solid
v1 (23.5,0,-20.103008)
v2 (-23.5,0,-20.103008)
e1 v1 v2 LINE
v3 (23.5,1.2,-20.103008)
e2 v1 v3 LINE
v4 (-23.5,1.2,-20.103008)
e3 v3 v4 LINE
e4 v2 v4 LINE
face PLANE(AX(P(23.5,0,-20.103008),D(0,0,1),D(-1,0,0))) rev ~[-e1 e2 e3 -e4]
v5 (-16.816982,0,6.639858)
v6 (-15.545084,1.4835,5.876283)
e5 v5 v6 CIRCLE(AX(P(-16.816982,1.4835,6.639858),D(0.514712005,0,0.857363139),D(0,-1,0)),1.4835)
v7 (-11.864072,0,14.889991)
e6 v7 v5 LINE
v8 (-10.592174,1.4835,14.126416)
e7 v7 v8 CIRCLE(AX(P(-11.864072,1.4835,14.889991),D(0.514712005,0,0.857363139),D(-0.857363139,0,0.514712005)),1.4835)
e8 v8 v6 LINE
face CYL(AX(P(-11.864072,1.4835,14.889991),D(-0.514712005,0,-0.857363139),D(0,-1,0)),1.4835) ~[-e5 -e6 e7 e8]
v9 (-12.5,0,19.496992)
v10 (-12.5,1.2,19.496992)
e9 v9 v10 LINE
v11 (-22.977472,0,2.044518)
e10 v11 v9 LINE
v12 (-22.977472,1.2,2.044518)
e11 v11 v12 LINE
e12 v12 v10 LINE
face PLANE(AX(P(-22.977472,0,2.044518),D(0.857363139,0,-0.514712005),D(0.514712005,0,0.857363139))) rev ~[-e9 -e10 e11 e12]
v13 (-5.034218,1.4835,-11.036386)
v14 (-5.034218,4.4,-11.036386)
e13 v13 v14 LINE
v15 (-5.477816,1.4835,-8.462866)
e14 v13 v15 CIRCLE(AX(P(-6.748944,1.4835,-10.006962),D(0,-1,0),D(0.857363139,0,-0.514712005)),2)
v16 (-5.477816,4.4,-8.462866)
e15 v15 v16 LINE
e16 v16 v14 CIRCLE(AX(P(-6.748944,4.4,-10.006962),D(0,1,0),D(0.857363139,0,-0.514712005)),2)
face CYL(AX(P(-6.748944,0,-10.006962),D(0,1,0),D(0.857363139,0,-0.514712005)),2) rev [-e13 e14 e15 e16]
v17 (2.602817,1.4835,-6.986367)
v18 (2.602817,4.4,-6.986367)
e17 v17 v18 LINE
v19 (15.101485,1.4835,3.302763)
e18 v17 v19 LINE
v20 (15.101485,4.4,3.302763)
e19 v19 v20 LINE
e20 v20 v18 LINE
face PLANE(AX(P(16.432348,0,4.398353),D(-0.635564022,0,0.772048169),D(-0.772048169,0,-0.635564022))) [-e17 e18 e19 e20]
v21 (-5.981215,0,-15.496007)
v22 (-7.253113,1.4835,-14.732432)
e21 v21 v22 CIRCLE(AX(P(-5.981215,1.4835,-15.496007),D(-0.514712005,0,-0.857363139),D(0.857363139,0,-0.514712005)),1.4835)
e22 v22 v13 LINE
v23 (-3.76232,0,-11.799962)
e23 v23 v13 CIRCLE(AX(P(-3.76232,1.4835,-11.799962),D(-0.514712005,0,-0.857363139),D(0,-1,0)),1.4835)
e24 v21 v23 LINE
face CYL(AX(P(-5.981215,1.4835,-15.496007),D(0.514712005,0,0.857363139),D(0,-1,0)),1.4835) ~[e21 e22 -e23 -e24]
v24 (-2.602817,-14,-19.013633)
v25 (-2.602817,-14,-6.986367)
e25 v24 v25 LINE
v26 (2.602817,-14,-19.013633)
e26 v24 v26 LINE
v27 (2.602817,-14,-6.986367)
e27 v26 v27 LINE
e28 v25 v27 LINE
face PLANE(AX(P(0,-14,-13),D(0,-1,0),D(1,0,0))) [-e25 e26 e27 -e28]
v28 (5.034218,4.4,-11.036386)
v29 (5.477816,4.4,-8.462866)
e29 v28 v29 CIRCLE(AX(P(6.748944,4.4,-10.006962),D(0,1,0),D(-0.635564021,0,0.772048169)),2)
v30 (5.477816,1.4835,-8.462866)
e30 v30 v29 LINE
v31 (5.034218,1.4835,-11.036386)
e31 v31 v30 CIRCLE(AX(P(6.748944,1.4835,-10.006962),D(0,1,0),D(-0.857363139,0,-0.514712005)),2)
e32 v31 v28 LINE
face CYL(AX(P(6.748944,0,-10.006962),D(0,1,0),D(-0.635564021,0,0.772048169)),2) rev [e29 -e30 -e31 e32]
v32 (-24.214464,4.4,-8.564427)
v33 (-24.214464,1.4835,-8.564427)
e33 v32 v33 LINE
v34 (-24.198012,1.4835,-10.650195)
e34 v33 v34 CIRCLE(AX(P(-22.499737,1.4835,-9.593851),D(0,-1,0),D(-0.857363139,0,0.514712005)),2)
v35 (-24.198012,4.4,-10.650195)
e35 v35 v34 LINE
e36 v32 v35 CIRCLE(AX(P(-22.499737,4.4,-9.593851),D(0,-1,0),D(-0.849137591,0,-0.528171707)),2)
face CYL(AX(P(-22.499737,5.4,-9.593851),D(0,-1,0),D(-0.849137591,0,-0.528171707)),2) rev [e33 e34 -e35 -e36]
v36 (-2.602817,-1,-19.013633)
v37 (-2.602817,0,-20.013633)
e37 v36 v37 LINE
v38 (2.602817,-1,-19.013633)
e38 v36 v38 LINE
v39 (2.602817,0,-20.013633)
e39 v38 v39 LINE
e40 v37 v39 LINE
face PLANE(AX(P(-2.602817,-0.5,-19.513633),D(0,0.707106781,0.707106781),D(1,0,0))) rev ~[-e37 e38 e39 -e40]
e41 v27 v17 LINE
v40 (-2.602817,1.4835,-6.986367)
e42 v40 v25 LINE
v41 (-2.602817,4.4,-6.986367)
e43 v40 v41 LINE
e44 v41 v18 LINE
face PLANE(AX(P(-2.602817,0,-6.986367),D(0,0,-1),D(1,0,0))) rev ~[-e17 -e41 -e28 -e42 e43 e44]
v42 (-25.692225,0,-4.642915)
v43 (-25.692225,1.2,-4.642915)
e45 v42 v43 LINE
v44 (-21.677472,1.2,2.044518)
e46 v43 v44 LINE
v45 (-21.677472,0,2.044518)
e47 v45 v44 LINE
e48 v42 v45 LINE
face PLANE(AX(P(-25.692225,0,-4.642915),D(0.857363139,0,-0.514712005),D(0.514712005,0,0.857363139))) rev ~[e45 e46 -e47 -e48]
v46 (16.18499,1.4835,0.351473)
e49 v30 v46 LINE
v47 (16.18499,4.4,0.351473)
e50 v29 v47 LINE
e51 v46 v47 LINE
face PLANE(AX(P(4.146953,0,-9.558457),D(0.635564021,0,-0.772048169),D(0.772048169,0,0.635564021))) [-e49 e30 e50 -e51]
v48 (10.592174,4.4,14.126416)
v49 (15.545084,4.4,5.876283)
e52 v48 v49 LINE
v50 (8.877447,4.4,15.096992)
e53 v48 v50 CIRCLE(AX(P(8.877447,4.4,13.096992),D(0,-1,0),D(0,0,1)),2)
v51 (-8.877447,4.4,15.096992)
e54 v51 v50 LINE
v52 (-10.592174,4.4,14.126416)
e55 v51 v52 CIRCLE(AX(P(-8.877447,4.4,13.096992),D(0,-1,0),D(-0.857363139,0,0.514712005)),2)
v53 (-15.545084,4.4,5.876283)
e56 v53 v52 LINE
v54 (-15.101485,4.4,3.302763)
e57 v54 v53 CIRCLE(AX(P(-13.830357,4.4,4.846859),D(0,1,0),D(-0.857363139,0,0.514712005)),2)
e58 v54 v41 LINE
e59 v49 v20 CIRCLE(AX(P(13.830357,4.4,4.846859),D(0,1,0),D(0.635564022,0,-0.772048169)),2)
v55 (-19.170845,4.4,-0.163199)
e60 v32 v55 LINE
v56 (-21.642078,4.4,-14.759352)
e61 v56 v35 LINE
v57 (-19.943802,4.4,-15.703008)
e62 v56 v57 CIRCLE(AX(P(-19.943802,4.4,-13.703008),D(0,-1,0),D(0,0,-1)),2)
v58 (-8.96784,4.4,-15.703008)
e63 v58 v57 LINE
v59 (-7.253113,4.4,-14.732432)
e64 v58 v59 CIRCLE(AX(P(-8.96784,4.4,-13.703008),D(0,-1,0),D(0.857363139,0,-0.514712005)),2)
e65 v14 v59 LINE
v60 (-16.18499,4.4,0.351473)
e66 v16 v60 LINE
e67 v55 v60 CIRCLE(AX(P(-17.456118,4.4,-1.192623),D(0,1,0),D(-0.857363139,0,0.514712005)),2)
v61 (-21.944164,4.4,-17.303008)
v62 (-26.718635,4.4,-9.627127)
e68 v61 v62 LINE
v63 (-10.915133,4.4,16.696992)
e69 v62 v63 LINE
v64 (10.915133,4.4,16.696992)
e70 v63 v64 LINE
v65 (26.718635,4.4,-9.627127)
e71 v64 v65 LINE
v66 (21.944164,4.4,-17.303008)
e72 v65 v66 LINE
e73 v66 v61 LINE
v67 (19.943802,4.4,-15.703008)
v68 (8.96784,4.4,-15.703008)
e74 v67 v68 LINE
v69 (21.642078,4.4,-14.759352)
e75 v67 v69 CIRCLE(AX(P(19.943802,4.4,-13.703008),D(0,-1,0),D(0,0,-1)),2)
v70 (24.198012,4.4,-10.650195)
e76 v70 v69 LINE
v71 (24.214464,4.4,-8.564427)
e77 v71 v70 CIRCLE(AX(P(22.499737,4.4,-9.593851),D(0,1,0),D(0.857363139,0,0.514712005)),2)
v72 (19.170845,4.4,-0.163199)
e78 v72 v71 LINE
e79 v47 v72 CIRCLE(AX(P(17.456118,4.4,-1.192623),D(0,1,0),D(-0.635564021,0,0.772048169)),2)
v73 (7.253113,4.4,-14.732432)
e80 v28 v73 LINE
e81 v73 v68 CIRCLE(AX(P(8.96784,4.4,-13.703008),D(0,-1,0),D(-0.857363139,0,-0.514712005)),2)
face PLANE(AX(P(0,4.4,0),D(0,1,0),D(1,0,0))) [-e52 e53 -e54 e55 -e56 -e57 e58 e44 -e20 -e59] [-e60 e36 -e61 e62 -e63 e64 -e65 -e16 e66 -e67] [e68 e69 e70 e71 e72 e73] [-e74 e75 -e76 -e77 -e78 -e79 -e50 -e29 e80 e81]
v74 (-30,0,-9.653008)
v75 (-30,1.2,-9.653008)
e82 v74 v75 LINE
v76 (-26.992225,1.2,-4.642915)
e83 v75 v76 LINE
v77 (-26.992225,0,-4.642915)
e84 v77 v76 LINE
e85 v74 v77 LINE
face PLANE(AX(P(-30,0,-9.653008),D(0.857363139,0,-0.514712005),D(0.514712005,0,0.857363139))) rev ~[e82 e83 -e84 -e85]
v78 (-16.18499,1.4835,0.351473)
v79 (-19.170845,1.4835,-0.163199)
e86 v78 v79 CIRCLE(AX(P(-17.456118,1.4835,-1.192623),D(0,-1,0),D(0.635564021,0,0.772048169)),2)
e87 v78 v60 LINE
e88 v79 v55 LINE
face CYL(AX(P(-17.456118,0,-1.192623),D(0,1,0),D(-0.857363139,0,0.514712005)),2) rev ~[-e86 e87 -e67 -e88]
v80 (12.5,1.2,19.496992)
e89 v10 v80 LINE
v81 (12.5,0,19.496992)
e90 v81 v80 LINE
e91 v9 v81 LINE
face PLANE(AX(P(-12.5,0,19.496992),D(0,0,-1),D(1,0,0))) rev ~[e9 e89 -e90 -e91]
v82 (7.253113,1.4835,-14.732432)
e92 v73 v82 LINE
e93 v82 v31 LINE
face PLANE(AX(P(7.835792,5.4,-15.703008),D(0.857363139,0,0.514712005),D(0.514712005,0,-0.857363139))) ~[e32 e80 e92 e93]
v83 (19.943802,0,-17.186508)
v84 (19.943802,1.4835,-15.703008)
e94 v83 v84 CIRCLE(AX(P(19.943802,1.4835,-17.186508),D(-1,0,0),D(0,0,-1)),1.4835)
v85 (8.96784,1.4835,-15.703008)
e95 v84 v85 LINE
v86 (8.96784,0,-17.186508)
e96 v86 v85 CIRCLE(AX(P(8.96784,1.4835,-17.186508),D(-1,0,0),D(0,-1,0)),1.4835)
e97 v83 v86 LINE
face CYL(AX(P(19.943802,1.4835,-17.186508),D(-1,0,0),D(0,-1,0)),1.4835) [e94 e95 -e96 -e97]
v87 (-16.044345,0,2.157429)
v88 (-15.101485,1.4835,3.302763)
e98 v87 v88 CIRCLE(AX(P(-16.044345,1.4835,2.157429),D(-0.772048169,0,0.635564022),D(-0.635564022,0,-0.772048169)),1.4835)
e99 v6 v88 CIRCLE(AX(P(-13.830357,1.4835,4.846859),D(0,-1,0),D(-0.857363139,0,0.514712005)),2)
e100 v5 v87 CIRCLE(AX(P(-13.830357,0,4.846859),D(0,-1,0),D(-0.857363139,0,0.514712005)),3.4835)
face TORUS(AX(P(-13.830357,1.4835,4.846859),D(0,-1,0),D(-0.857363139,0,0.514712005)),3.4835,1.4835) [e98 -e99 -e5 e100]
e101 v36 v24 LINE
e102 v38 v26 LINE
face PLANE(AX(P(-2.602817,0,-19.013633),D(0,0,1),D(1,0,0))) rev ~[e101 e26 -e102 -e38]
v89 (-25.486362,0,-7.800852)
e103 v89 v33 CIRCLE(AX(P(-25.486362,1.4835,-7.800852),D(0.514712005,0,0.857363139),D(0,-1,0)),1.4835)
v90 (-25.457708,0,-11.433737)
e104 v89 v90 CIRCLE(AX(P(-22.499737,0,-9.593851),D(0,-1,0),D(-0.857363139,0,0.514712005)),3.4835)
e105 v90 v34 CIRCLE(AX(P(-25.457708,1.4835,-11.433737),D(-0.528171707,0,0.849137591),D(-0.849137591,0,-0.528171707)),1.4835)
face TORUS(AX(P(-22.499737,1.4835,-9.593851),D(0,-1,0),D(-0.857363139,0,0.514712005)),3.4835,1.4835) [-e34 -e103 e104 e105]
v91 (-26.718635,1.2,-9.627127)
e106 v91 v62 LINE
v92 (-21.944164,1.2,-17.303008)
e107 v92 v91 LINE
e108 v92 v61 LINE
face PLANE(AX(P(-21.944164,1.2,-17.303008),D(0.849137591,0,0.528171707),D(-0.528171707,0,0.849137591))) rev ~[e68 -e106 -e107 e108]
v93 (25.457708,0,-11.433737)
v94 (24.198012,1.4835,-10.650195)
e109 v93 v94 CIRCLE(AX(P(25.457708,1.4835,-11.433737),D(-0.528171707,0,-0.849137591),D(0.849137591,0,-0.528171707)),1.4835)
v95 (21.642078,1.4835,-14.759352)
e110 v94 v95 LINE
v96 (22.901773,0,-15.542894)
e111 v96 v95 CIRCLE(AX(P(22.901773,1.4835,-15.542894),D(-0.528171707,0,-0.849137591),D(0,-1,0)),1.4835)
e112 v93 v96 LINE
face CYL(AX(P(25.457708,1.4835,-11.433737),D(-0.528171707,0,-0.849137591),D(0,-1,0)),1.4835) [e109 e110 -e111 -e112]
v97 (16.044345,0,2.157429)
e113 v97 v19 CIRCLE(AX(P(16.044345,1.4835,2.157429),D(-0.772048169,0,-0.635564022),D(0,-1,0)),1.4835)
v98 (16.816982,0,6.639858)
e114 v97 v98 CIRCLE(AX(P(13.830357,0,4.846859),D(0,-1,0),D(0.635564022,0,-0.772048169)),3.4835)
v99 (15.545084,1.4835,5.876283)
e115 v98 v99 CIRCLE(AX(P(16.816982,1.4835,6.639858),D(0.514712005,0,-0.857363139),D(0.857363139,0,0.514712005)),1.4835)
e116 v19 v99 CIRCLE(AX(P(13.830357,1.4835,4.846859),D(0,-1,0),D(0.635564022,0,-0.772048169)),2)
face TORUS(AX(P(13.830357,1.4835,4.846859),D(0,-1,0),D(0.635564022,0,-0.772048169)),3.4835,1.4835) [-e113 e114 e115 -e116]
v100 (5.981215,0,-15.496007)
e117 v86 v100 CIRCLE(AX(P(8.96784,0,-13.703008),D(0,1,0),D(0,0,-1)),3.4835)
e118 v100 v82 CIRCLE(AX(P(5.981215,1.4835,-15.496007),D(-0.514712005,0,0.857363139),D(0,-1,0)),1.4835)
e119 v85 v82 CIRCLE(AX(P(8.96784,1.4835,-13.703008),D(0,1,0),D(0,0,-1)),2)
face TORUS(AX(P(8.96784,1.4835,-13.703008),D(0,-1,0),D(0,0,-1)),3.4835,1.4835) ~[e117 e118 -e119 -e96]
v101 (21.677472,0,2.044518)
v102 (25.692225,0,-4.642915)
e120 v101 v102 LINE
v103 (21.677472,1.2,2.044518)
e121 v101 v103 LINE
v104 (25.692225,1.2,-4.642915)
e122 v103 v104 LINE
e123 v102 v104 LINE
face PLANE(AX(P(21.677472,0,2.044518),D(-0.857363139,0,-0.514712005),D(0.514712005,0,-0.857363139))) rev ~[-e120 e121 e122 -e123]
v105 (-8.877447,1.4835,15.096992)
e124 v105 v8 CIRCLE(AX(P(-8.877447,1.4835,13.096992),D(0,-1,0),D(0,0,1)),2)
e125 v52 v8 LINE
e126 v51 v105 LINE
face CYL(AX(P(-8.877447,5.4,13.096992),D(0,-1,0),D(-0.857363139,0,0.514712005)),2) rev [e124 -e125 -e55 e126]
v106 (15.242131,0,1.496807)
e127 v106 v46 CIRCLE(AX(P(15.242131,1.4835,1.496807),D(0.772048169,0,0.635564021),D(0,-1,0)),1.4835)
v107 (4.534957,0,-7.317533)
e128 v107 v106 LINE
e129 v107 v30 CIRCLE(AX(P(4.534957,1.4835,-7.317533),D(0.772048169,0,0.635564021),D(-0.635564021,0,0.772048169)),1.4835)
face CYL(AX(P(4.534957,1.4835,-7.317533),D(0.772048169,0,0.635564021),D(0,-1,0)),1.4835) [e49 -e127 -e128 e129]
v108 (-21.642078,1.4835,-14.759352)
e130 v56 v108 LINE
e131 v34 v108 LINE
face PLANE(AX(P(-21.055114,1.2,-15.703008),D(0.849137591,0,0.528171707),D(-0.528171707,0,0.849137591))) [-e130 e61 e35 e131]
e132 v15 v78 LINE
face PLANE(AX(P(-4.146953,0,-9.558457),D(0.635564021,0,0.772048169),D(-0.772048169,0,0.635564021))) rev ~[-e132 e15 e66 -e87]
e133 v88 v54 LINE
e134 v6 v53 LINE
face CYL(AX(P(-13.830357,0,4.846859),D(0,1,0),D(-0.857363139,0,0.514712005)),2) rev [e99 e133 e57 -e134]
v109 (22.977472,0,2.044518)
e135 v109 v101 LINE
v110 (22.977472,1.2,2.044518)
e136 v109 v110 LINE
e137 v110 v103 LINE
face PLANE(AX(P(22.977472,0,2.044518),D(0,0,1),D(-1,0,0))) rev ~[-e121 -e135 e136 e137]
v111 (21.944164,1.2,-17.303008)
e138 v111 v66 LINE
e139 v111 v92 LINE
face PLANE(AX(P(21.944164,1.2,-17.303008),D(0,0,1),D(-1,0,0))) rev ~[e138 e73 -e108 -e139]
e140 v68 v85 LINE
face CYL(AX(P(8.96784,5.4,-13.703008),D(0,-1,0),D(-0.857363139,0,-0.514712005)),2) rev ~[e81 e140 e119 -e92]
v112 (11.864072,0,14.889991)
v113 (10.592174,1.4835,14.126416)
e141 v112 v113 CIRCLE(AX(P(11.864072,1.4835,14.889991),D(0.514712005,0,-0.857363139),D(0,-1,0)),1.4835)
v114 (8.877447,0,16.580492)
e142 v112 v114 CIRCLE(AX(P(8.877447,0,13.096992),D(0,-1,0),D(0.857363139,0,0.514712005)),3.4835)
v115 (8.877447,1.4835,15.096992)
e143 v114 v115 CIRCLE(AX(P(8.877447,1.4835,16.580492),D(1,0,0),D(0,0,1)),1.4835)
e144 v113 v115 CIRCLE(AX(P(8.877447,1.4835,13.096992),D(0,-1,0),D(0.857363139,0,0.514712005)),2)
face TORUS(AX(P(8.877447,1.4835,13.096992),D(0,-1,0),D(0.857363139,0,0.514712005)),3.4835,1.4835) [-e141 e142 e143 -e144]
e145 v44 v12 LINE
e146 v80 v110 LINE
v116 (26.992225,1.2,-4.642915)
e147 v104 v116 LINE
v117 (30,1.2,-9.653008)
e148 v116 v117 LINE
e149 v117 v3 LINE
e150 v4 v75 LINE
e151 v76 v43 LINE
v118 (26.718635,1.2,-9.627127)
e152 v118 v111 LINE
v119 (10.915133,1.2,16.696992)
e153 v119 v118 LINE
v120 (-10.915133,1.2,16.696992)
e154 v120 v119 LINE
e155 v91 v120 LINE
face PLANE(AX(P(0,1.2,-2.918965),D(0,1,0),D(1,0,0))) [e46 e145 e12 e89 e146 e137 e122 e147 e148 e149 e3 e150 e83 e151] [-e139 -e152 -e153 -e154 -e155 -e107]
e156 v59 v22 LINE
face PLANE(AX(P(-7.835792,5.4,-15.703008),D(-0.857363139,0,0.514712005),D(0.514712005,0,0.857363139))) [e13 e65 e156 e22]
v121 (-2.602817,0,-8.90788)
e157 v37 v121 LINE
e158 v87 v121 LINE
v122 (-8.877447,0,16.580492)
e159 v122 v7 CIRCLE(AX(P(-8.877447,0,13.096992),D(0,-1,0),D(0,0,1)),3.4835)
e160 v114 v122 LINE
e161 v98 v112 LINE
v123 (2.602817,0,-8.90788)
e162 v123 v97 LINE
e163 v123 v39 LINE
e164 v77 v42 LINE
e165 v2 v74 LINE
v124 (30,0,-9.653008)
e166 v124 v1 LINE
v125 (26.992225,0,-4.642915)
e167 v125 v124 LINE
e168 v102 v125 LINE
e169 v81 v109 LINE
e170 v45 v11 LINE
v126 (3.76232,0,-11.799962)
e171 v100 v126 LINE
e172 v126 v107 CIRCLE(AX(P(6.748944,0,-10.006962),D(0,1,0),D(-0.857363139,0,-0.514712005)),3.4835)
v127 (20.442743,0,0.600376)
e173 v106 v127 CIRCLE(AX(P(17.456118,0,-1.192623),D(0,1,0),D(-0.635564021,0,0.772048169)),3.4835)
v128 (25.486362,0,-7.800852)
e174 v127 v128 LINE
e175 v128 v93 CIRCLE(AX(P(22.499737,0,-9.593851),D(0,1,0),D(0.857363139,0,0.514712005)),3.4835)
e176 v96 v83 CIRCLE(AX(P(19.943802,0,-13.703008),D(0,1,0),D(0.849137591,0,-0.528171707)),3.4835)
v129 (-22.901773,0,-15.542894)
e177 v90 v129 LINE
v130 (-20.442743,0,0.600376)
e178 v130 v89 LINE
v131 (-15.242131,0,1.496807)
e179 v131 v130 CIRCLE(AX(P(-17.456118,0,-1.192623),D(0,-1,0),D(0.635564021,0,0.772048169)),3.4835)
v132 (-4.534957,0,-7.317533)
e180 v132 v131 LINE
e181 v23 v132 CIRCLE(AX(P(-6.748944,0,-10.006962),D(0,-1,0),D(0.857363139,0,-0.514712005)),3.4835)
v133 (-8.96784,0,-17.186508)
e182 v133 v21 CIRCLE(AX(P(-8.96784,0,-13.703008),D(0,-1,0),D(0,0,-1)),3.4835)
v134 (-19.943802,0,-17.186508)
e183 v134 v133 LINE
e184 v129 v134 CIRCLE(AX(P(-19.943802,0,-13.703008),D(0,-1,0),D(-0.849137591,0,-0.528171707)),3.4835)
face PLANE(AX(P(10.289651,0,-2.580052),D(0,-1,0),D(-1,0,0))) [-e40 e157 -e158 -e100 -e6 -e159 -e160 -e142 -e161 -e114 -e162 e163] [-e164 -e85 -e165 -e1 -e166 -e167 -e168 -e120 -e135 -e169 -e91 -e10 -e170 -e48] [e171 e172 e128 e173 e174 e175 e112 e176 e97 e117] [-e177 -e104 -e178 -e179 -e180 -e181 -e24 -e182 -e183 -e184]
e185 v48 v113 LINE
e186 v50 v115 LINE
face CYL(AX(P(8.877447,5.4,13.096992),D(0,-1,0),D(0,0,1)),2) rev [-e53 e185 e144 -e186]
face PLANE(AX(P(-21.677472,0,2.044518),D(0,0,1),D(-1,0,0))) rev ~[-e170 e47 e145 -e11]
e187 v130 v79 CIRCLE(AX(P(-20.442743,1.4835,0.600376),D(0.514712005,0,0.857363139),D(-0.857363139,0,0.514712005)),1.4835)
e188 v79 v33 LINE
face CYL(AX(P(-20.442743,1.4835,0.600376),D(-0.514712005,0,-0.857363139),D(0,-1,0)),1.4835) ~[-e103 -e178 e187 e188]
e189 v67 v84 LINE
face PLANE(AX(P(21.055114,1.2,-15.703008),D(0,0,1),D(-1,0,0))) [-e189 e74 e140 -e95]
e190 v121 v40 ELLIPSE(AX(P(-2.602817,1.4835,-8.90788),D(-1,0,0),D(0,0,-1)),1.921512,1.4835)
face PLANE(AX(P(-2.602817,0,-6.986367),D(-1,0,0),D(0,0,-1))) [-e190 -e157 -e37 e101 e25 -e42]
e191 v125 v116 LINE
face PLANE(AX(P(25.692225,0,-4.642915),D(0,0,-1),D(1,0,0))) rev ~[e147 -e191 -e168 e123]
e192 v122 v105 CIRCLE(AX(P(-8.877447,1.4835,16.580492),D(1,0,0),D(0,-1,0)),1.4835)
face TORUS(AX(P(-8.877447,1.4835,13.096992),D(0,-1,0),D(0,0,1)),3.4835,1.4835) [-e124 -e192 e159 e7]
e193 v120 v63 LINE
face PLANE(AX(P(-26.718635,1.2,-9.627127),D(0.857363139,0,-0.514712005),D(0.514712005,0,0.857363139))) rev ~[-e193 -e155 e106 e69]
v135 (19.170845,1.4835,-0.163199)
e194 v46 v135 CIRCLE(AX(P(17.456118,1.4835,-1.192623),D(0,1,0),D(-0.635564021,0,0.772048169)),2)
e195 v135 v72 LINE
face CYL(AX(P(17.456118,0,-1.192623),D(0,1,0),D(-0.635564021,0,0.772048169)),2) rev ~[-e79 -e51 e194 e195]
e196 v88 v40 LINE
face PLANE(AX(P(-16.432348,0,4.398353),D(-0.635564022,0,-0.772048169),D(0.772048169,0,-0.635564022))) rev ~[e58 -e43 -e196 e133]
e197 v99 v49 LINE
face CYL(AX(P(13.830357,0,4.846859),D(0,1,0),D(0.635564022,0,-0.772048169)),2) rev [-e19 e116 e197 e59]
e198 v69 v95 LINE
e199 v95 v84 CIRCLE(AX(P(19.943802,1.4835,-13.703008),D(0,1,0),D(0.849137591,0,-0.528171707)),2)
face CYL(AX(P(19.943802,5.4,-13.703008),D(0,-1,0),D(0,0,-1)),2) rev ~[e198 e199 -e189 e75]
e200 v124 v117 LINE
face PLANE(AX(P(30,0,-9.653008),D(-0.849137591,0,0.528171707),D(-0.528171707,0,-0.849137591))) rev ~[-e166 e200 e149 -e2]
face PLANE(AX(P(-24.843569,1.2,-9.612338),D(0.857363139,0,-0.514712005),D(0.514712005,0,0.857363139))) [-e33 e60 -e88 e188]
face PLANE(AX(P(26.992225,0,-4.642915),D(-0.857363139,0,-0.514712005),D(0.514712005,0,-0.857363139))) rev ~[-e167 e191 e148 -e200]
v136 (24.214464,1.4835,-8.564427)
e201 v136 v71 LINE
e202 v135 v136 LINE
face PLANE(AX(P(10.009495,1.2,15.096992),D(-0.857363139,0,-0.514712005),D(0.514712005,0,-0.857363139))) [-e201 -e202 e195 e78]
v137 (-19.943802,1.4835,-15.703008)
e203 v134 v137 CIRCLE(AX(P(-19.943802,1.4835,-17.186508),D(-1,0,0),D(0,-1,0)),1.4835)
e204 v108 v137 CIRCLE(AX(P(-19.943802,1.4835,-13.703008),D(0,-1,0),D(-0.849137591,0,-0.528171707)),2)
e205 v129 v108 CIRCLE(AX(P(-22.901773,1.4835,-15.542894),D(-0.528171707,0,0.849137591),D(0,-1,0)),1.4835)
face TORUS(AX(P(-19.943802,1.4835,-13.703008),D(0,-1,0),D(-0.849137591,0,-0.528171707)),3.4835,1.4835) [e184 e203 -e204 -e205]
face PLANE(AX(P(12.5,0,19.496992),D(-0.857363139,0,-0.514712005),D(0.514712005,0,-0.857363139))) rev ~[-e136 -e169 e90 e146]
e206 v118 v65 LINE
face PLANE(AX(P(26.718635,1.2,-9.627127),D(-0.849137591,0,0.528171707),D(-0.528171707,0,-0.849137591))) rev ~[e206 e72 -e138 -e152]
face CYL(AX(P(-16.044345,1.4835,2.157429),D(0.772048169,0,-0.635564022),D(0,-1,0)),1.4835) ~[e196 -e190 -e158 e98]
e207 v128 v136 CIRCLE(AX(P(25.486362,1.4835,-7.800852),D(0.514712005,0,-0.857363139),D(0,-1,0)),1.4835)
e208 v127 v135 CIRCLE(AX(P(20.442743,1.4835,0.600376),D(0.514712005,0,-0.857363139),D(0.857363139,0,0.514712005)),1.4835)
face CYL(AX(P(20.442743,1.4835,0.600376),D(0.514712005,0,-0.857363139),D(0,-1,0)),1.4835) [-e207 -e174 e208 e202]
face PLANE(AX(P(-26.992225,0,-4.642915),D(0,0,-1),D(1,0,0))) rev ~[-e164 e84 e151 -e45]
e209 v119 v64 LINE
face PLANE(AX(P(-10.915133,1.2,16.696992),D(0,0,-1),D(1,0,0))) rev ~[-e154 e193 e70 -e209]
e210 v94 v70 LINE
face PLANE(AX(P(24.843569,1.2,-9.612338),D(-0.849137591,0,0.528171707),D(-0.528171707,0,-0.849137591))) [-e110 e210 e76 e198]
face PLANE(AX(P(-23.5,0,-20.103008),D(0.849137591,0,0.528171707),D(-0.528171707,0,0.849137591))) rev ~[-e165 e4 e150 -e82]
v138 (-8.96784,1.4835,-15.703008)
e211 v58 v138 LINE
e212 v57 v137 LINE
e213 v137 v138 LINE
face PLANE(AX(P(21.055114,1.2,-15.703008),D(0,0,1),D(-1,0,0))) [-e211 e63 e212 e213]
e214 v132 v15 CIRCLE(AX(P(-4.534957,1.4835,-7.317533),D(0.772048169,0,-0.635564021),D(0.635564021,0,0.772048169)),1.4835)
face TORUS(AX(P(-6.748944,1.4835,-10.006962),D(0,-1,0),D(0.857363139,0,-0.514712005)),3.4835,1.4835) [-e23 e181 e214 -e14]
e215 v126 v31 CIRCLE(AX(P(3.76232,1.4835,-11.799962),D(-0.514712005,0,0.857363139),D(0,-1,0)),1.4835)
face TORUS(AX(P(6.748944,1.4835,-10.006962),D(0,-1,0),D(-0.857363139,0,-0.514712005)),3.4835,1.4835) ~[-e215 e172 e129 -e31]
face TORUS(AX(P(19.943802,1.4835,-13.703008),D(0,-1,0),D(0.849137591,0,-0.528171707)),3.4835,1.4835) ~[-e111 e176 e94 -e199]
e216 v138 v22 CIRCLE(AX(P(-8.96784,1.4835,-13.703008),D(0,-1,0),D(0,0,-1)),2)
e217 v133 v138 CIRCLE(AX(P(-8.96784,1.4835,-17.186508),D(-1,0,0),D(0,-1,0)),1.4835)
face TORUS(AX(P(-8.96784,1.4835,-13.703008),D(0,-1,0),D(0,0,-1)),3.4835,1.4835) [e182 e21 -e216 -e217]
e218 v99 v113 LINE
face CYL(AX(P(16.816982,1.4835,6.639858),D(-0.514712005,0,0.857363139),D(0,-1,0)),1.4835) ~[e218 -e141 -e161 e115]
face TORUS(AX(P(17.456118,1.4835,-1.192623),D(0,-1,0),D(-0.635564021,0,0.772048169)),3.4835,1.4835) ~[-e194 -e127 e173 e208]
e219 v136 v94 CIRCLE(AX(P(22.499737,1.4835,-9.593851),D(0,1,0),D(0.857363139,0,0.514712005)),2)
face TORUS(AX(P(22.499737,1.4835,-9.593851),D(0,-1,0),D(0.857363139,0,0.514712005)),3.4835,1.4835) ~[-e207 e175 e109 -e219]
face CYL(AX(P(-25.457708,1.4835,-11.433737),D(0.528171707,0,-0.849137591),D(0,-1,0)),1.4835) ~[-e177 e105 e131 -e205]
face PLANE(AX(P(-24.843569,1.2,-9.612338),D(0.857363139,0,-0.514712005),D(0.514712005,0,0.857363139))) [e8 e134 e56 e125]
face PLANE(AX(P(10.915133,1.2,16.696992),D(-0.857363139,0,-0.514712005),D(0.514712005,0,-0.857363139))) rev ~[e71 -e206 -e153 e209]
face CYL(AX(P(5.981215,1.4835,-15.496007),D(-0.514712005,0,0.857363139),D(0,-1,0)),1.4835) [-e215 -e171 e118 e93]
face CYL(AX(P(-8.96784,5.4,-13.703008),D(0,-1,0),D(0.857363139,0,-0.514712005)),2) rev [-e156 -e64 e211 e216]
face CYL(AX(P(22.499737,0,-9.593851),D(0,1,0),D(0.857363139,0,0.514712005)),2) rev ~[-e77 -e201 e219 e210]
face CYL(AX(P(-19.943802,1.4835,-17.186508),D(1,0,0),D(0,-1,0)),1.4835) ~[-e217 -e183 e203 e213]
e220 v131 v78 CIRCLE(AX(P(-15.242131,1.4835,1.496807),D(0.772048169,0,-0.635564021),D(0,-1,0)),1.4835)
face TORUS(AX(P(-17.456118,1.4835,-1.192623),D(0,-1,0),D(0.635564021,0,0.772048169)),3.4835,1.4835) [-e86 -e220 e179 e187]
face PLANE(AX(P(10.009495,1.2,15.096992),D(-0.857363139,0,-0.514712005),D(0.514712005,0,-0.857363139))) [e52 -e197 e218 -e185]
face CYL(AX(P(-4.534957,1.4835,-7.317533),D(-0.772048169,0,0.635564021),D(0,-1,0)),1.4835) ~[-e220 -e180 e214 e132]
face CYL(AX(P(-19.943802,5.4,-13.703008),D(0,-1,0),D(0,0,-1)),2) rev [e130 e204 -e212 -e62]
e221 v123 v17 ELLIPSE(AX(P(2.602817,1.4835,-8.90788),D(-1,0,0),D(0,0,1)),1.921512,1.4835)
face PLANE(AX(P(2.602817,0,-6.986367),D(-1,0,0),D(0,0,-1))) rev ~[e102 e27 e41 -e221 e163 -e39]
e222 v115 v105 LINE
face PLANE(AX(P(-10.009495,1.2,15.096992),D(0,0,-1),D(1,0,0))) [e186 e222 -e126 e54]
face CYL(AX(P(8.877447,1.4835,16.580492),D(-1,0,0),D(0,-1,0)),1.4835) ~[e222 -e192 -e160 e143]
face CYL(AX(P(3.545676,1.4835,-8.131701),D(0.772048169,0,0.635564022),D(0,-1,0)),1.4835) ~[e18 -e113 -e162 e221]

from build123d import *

# Parameters (mm, degrees)
BOSS_EXTRUDE1_DEPTH = 1.2
BOSS_EXTRUDE2_DEPTH = 4.2
SKETCH3_W           = 5.20563433
SKETCH3_H           = 12.0272654
BOSS_EXTRUDE3_DEPTH = 14
CHAMFER3_SIZE       = 1
SKETCH4_W           = 5.20563433
SKETCH4_H           = 8.716640791
BOSS_EXTRUDE4_DEPTH = 5.4
BOSS_EXTRUDE5_DEPTH = 5.4
BOSS_EXTRUDE8_DEPTH = 5.4
FILLET1_R           = 2
FILLET3_R           = 1.4835
SKETCH12_R          = 31.501357271
CUT_EXTRUDE1_DEPTH  = 1


with BuildPart() as part:
    # Sketch1 → Boss-Extrude1 (new body)
    with BuildSketch(Plane(origin=(0, 0, 0), x_dir=(1, 0, 0), z_dir=(0, 1, 0))):
        Polygon((12.5, -19.496991909), (22.977471756, -2.044517527), (21.677471756, -2.044517527), (25.692225392, 4.642914958), (26.992225392, 4.642914958), (30, 9.653008091), (23.5, 20.103008091), (-23.5, 20.103008091), (-30, 9.653008091), (-26.992225392, 4.642914958), (-25.692225392, 4.642914958), (-21.677471756, -2.044517527), (-22.977471756, -2.044517527), (-12.5, -19.496991909), align=None)
        Polygon((-21.05511414, 15.703008091), (21.05511414, 15.703008091), (24.843569396, 9.612337718), (10.009495006, -15.096991909), (-10.009495006, -15.096991909), (-24.843569396, 9.612337718), align=None, mode=Mode.SUBTRACT)
    extrude(amount=BOSS_EXTRUDE1_DEPTH)

    # Sketch2 → Boss-Extrude2 (add)
    with BuildSketch(Plane(origin=(0, 1.2, 0), x_dir=(1, 0, 0), z_dir=(0, 1, 0))):
        Polygon((26.71863507, 9.627126944), (21.944163543, 17.303008091), (-21.944163543, 17.303008091), (-26.71863507, 9.627126944), (-10.915133186, -16.696991909), (10.915133186, -16.696991909), align=None)
        Polygon((24.843569396, 9.612337718), (21.05511414, 15.703008091), (-21.05511414, 15.703008091), (-24.843569396, 9.612337718), (-10.009495006, -15.096991909), (10.009495006, -15.096991909), align=None, mode=Mode.SUBTRACT)
    extrude(amount=BOSS_EXTRUDE2_DEPTH)

    # Sketch3 → Boss-Extrude3 (add)
    with BuildSketch(Plane.XZ):
        with Locations((0, -13)):
            Rectangle(SKETCH3_W, SKETCH3_H)
    extrude(amount=BOSS_EXTRUDE3_DEPTH)

    # Chamfer3
    chamfer3_edges = [part.edges().sort_by_distance(p)[0] for p in [
        (0, 0, -19.0136327),
    ]]
    chamfer(chamfer3_edges, length=CHAMFER3_SIZE)

    # Sketch4 → Boss-Extrude4 (add)
    with BuildSketch(Plane(origin=(0, 0, 0), x_dir=(1, 0, 0), z_dir=(0, 1, 0))):
        with Locations((0, 11.344687696)):
            Rectangle(SKETCH4_W, SKETCH4_H)
    extrude(amount=BOSS_EXTRUDE4_DEPTH)

    # Sketch6 → Boss-Extrude5 (add)
    with BuildSketch(Plane(origin=(0, 5.4, 0), x_dir=(1, 0, 0), z_dir=(0, 1, 0))):
        Polygon((-7.835791911, 15.703008091), (-2.602817165, 6.9863673), (-2.602817165, 15.703008091), align=None)
    boss_extrude5 = extrude(amount=-BOSS_EXTRUDE5_DEPTH)

    # Mirror1: Boss-Extrude5 across plane
    add(boss_extrude5.mirror(Plane(origin=(0, 0, 0), x_dir=(0, 0, 1), z_dir=(1, 0, 0))))

    # Sketch10 → Boss-Extrude8 (add)
    with BuildSketch(Plane(origin=(0, 0, 0), x_dir=(-1, 0, 0), z_dir=(0, -1, 0))):
        Polygon((-2.602817165, 6.9863673), (-4.146953179, 9.558456717), (-17.976484501, -1.826263693), (-16.432348487, -4.398353111), align=None)
        Polygon((2.602817165, 6.9863673), (4.146953179, 9.558456717), (17.976484501, -1.826263693), (16.432348487, -4.398353111), align=None)
    extrude(amount=-BOSS_EXTRUDE8_DEPTH)

    # Fillet1
    fillet1_edges = [part.edges().sort_by_distance(p)[0] for p in [
        (-7.835791911, 2.7, -15.703008091),
        (7.835791911, 2.7, -15.703008091),
        (4.146953179, 2.7, -9.558456717),
        (17.976484501, 2.7, 1.826263693),
        (16.432348487, 2.7, 4.398353111),
        (-17.976484501, 2.7, 1.826263693),
        (-4.146953179, 2.7, -9.558456717),
        (-16.432348487, 2.7, 4.398353111),
        (10.009495006, 2.7, 15.096991909),
        (24.843569396, 2.7, -9.612337718),
        (21.05511414, 2.7, -15.703008091),
        (-21.05511414, 2.7, -15.703008091),
        (-24.843569396, 2.7, -9.612337718),
        (-10.009495006, 2.7, 15.096991909),
    ]]
    fillet(fillet1_edges, radius=FILLET1_R)

    # Fillet3
    fillet3_edges = [part.edges().sort_by_distance(p)[0] for p in [
        (-8.852151276, 0, -1.841802387),
        (-13.068628591, 0, 10.001349395),
        (13.068628591, 0, 10.001349395),
        (8.852151276, 0, -1.841802387),
        (0, 0, 15.096991909),
        (-14.45582101, 0, -15.703008091),
        (-22.920045025, 0, -12.704773052),
        (-21.692654112, 0, -4.363813116),
        (-10.831403301, 0, -4.055696431),
        (-6.143665701, 0, -12.88440929),
        (6.143665701, 0, -12.88440929),
        (14.45582101, 0, -15.703008091),
        (22.920045025, 0, -12.704773052),
        (21.692654112, 0, -4.363813116),
        (10.831403301, 0, -4.055696431),
        (-15.801291957, 0, 4.507128455),
        (15.801291957, 0, 4.507128455),
        (9.862625433, 0, 14.837515971),
        (-9.862625433, 0, 14.837515971),
        (-20.915222266, 0, -15.451248181),
        (-24.499675096, 0, -9.609625316),
        (-17.795848772, 0, 0.778311547),
        (-7.982661484, 0, -15.443532153),
        (7.982661484, 0, -15.443532153),
        (20.915222266, 0, -15.451248181),
        (24.499675096, 0, -9.609625316),
        (17.795848772, 0, 0.778311547),
        (4.778009709, 0, -9.667232062),
        (-4.778009709, 0, -9.667232062),
    ]]
    fillet(fillet3_edges, radius=FILLET3_R)

    # Sketch12 → Cut-Extrude1 (cut)
    with BuildSketch(Plane(origin=(0, 5.4, 0), x_dir=(1, 0, 0), z_dir=(0, 1, 0))):
        Circle(SKETCH12_R)
    extrude(amount=-CUT_EXTRUDE1_DEPTH, mode=Mode.SUBTRACT)


solid = part.part
